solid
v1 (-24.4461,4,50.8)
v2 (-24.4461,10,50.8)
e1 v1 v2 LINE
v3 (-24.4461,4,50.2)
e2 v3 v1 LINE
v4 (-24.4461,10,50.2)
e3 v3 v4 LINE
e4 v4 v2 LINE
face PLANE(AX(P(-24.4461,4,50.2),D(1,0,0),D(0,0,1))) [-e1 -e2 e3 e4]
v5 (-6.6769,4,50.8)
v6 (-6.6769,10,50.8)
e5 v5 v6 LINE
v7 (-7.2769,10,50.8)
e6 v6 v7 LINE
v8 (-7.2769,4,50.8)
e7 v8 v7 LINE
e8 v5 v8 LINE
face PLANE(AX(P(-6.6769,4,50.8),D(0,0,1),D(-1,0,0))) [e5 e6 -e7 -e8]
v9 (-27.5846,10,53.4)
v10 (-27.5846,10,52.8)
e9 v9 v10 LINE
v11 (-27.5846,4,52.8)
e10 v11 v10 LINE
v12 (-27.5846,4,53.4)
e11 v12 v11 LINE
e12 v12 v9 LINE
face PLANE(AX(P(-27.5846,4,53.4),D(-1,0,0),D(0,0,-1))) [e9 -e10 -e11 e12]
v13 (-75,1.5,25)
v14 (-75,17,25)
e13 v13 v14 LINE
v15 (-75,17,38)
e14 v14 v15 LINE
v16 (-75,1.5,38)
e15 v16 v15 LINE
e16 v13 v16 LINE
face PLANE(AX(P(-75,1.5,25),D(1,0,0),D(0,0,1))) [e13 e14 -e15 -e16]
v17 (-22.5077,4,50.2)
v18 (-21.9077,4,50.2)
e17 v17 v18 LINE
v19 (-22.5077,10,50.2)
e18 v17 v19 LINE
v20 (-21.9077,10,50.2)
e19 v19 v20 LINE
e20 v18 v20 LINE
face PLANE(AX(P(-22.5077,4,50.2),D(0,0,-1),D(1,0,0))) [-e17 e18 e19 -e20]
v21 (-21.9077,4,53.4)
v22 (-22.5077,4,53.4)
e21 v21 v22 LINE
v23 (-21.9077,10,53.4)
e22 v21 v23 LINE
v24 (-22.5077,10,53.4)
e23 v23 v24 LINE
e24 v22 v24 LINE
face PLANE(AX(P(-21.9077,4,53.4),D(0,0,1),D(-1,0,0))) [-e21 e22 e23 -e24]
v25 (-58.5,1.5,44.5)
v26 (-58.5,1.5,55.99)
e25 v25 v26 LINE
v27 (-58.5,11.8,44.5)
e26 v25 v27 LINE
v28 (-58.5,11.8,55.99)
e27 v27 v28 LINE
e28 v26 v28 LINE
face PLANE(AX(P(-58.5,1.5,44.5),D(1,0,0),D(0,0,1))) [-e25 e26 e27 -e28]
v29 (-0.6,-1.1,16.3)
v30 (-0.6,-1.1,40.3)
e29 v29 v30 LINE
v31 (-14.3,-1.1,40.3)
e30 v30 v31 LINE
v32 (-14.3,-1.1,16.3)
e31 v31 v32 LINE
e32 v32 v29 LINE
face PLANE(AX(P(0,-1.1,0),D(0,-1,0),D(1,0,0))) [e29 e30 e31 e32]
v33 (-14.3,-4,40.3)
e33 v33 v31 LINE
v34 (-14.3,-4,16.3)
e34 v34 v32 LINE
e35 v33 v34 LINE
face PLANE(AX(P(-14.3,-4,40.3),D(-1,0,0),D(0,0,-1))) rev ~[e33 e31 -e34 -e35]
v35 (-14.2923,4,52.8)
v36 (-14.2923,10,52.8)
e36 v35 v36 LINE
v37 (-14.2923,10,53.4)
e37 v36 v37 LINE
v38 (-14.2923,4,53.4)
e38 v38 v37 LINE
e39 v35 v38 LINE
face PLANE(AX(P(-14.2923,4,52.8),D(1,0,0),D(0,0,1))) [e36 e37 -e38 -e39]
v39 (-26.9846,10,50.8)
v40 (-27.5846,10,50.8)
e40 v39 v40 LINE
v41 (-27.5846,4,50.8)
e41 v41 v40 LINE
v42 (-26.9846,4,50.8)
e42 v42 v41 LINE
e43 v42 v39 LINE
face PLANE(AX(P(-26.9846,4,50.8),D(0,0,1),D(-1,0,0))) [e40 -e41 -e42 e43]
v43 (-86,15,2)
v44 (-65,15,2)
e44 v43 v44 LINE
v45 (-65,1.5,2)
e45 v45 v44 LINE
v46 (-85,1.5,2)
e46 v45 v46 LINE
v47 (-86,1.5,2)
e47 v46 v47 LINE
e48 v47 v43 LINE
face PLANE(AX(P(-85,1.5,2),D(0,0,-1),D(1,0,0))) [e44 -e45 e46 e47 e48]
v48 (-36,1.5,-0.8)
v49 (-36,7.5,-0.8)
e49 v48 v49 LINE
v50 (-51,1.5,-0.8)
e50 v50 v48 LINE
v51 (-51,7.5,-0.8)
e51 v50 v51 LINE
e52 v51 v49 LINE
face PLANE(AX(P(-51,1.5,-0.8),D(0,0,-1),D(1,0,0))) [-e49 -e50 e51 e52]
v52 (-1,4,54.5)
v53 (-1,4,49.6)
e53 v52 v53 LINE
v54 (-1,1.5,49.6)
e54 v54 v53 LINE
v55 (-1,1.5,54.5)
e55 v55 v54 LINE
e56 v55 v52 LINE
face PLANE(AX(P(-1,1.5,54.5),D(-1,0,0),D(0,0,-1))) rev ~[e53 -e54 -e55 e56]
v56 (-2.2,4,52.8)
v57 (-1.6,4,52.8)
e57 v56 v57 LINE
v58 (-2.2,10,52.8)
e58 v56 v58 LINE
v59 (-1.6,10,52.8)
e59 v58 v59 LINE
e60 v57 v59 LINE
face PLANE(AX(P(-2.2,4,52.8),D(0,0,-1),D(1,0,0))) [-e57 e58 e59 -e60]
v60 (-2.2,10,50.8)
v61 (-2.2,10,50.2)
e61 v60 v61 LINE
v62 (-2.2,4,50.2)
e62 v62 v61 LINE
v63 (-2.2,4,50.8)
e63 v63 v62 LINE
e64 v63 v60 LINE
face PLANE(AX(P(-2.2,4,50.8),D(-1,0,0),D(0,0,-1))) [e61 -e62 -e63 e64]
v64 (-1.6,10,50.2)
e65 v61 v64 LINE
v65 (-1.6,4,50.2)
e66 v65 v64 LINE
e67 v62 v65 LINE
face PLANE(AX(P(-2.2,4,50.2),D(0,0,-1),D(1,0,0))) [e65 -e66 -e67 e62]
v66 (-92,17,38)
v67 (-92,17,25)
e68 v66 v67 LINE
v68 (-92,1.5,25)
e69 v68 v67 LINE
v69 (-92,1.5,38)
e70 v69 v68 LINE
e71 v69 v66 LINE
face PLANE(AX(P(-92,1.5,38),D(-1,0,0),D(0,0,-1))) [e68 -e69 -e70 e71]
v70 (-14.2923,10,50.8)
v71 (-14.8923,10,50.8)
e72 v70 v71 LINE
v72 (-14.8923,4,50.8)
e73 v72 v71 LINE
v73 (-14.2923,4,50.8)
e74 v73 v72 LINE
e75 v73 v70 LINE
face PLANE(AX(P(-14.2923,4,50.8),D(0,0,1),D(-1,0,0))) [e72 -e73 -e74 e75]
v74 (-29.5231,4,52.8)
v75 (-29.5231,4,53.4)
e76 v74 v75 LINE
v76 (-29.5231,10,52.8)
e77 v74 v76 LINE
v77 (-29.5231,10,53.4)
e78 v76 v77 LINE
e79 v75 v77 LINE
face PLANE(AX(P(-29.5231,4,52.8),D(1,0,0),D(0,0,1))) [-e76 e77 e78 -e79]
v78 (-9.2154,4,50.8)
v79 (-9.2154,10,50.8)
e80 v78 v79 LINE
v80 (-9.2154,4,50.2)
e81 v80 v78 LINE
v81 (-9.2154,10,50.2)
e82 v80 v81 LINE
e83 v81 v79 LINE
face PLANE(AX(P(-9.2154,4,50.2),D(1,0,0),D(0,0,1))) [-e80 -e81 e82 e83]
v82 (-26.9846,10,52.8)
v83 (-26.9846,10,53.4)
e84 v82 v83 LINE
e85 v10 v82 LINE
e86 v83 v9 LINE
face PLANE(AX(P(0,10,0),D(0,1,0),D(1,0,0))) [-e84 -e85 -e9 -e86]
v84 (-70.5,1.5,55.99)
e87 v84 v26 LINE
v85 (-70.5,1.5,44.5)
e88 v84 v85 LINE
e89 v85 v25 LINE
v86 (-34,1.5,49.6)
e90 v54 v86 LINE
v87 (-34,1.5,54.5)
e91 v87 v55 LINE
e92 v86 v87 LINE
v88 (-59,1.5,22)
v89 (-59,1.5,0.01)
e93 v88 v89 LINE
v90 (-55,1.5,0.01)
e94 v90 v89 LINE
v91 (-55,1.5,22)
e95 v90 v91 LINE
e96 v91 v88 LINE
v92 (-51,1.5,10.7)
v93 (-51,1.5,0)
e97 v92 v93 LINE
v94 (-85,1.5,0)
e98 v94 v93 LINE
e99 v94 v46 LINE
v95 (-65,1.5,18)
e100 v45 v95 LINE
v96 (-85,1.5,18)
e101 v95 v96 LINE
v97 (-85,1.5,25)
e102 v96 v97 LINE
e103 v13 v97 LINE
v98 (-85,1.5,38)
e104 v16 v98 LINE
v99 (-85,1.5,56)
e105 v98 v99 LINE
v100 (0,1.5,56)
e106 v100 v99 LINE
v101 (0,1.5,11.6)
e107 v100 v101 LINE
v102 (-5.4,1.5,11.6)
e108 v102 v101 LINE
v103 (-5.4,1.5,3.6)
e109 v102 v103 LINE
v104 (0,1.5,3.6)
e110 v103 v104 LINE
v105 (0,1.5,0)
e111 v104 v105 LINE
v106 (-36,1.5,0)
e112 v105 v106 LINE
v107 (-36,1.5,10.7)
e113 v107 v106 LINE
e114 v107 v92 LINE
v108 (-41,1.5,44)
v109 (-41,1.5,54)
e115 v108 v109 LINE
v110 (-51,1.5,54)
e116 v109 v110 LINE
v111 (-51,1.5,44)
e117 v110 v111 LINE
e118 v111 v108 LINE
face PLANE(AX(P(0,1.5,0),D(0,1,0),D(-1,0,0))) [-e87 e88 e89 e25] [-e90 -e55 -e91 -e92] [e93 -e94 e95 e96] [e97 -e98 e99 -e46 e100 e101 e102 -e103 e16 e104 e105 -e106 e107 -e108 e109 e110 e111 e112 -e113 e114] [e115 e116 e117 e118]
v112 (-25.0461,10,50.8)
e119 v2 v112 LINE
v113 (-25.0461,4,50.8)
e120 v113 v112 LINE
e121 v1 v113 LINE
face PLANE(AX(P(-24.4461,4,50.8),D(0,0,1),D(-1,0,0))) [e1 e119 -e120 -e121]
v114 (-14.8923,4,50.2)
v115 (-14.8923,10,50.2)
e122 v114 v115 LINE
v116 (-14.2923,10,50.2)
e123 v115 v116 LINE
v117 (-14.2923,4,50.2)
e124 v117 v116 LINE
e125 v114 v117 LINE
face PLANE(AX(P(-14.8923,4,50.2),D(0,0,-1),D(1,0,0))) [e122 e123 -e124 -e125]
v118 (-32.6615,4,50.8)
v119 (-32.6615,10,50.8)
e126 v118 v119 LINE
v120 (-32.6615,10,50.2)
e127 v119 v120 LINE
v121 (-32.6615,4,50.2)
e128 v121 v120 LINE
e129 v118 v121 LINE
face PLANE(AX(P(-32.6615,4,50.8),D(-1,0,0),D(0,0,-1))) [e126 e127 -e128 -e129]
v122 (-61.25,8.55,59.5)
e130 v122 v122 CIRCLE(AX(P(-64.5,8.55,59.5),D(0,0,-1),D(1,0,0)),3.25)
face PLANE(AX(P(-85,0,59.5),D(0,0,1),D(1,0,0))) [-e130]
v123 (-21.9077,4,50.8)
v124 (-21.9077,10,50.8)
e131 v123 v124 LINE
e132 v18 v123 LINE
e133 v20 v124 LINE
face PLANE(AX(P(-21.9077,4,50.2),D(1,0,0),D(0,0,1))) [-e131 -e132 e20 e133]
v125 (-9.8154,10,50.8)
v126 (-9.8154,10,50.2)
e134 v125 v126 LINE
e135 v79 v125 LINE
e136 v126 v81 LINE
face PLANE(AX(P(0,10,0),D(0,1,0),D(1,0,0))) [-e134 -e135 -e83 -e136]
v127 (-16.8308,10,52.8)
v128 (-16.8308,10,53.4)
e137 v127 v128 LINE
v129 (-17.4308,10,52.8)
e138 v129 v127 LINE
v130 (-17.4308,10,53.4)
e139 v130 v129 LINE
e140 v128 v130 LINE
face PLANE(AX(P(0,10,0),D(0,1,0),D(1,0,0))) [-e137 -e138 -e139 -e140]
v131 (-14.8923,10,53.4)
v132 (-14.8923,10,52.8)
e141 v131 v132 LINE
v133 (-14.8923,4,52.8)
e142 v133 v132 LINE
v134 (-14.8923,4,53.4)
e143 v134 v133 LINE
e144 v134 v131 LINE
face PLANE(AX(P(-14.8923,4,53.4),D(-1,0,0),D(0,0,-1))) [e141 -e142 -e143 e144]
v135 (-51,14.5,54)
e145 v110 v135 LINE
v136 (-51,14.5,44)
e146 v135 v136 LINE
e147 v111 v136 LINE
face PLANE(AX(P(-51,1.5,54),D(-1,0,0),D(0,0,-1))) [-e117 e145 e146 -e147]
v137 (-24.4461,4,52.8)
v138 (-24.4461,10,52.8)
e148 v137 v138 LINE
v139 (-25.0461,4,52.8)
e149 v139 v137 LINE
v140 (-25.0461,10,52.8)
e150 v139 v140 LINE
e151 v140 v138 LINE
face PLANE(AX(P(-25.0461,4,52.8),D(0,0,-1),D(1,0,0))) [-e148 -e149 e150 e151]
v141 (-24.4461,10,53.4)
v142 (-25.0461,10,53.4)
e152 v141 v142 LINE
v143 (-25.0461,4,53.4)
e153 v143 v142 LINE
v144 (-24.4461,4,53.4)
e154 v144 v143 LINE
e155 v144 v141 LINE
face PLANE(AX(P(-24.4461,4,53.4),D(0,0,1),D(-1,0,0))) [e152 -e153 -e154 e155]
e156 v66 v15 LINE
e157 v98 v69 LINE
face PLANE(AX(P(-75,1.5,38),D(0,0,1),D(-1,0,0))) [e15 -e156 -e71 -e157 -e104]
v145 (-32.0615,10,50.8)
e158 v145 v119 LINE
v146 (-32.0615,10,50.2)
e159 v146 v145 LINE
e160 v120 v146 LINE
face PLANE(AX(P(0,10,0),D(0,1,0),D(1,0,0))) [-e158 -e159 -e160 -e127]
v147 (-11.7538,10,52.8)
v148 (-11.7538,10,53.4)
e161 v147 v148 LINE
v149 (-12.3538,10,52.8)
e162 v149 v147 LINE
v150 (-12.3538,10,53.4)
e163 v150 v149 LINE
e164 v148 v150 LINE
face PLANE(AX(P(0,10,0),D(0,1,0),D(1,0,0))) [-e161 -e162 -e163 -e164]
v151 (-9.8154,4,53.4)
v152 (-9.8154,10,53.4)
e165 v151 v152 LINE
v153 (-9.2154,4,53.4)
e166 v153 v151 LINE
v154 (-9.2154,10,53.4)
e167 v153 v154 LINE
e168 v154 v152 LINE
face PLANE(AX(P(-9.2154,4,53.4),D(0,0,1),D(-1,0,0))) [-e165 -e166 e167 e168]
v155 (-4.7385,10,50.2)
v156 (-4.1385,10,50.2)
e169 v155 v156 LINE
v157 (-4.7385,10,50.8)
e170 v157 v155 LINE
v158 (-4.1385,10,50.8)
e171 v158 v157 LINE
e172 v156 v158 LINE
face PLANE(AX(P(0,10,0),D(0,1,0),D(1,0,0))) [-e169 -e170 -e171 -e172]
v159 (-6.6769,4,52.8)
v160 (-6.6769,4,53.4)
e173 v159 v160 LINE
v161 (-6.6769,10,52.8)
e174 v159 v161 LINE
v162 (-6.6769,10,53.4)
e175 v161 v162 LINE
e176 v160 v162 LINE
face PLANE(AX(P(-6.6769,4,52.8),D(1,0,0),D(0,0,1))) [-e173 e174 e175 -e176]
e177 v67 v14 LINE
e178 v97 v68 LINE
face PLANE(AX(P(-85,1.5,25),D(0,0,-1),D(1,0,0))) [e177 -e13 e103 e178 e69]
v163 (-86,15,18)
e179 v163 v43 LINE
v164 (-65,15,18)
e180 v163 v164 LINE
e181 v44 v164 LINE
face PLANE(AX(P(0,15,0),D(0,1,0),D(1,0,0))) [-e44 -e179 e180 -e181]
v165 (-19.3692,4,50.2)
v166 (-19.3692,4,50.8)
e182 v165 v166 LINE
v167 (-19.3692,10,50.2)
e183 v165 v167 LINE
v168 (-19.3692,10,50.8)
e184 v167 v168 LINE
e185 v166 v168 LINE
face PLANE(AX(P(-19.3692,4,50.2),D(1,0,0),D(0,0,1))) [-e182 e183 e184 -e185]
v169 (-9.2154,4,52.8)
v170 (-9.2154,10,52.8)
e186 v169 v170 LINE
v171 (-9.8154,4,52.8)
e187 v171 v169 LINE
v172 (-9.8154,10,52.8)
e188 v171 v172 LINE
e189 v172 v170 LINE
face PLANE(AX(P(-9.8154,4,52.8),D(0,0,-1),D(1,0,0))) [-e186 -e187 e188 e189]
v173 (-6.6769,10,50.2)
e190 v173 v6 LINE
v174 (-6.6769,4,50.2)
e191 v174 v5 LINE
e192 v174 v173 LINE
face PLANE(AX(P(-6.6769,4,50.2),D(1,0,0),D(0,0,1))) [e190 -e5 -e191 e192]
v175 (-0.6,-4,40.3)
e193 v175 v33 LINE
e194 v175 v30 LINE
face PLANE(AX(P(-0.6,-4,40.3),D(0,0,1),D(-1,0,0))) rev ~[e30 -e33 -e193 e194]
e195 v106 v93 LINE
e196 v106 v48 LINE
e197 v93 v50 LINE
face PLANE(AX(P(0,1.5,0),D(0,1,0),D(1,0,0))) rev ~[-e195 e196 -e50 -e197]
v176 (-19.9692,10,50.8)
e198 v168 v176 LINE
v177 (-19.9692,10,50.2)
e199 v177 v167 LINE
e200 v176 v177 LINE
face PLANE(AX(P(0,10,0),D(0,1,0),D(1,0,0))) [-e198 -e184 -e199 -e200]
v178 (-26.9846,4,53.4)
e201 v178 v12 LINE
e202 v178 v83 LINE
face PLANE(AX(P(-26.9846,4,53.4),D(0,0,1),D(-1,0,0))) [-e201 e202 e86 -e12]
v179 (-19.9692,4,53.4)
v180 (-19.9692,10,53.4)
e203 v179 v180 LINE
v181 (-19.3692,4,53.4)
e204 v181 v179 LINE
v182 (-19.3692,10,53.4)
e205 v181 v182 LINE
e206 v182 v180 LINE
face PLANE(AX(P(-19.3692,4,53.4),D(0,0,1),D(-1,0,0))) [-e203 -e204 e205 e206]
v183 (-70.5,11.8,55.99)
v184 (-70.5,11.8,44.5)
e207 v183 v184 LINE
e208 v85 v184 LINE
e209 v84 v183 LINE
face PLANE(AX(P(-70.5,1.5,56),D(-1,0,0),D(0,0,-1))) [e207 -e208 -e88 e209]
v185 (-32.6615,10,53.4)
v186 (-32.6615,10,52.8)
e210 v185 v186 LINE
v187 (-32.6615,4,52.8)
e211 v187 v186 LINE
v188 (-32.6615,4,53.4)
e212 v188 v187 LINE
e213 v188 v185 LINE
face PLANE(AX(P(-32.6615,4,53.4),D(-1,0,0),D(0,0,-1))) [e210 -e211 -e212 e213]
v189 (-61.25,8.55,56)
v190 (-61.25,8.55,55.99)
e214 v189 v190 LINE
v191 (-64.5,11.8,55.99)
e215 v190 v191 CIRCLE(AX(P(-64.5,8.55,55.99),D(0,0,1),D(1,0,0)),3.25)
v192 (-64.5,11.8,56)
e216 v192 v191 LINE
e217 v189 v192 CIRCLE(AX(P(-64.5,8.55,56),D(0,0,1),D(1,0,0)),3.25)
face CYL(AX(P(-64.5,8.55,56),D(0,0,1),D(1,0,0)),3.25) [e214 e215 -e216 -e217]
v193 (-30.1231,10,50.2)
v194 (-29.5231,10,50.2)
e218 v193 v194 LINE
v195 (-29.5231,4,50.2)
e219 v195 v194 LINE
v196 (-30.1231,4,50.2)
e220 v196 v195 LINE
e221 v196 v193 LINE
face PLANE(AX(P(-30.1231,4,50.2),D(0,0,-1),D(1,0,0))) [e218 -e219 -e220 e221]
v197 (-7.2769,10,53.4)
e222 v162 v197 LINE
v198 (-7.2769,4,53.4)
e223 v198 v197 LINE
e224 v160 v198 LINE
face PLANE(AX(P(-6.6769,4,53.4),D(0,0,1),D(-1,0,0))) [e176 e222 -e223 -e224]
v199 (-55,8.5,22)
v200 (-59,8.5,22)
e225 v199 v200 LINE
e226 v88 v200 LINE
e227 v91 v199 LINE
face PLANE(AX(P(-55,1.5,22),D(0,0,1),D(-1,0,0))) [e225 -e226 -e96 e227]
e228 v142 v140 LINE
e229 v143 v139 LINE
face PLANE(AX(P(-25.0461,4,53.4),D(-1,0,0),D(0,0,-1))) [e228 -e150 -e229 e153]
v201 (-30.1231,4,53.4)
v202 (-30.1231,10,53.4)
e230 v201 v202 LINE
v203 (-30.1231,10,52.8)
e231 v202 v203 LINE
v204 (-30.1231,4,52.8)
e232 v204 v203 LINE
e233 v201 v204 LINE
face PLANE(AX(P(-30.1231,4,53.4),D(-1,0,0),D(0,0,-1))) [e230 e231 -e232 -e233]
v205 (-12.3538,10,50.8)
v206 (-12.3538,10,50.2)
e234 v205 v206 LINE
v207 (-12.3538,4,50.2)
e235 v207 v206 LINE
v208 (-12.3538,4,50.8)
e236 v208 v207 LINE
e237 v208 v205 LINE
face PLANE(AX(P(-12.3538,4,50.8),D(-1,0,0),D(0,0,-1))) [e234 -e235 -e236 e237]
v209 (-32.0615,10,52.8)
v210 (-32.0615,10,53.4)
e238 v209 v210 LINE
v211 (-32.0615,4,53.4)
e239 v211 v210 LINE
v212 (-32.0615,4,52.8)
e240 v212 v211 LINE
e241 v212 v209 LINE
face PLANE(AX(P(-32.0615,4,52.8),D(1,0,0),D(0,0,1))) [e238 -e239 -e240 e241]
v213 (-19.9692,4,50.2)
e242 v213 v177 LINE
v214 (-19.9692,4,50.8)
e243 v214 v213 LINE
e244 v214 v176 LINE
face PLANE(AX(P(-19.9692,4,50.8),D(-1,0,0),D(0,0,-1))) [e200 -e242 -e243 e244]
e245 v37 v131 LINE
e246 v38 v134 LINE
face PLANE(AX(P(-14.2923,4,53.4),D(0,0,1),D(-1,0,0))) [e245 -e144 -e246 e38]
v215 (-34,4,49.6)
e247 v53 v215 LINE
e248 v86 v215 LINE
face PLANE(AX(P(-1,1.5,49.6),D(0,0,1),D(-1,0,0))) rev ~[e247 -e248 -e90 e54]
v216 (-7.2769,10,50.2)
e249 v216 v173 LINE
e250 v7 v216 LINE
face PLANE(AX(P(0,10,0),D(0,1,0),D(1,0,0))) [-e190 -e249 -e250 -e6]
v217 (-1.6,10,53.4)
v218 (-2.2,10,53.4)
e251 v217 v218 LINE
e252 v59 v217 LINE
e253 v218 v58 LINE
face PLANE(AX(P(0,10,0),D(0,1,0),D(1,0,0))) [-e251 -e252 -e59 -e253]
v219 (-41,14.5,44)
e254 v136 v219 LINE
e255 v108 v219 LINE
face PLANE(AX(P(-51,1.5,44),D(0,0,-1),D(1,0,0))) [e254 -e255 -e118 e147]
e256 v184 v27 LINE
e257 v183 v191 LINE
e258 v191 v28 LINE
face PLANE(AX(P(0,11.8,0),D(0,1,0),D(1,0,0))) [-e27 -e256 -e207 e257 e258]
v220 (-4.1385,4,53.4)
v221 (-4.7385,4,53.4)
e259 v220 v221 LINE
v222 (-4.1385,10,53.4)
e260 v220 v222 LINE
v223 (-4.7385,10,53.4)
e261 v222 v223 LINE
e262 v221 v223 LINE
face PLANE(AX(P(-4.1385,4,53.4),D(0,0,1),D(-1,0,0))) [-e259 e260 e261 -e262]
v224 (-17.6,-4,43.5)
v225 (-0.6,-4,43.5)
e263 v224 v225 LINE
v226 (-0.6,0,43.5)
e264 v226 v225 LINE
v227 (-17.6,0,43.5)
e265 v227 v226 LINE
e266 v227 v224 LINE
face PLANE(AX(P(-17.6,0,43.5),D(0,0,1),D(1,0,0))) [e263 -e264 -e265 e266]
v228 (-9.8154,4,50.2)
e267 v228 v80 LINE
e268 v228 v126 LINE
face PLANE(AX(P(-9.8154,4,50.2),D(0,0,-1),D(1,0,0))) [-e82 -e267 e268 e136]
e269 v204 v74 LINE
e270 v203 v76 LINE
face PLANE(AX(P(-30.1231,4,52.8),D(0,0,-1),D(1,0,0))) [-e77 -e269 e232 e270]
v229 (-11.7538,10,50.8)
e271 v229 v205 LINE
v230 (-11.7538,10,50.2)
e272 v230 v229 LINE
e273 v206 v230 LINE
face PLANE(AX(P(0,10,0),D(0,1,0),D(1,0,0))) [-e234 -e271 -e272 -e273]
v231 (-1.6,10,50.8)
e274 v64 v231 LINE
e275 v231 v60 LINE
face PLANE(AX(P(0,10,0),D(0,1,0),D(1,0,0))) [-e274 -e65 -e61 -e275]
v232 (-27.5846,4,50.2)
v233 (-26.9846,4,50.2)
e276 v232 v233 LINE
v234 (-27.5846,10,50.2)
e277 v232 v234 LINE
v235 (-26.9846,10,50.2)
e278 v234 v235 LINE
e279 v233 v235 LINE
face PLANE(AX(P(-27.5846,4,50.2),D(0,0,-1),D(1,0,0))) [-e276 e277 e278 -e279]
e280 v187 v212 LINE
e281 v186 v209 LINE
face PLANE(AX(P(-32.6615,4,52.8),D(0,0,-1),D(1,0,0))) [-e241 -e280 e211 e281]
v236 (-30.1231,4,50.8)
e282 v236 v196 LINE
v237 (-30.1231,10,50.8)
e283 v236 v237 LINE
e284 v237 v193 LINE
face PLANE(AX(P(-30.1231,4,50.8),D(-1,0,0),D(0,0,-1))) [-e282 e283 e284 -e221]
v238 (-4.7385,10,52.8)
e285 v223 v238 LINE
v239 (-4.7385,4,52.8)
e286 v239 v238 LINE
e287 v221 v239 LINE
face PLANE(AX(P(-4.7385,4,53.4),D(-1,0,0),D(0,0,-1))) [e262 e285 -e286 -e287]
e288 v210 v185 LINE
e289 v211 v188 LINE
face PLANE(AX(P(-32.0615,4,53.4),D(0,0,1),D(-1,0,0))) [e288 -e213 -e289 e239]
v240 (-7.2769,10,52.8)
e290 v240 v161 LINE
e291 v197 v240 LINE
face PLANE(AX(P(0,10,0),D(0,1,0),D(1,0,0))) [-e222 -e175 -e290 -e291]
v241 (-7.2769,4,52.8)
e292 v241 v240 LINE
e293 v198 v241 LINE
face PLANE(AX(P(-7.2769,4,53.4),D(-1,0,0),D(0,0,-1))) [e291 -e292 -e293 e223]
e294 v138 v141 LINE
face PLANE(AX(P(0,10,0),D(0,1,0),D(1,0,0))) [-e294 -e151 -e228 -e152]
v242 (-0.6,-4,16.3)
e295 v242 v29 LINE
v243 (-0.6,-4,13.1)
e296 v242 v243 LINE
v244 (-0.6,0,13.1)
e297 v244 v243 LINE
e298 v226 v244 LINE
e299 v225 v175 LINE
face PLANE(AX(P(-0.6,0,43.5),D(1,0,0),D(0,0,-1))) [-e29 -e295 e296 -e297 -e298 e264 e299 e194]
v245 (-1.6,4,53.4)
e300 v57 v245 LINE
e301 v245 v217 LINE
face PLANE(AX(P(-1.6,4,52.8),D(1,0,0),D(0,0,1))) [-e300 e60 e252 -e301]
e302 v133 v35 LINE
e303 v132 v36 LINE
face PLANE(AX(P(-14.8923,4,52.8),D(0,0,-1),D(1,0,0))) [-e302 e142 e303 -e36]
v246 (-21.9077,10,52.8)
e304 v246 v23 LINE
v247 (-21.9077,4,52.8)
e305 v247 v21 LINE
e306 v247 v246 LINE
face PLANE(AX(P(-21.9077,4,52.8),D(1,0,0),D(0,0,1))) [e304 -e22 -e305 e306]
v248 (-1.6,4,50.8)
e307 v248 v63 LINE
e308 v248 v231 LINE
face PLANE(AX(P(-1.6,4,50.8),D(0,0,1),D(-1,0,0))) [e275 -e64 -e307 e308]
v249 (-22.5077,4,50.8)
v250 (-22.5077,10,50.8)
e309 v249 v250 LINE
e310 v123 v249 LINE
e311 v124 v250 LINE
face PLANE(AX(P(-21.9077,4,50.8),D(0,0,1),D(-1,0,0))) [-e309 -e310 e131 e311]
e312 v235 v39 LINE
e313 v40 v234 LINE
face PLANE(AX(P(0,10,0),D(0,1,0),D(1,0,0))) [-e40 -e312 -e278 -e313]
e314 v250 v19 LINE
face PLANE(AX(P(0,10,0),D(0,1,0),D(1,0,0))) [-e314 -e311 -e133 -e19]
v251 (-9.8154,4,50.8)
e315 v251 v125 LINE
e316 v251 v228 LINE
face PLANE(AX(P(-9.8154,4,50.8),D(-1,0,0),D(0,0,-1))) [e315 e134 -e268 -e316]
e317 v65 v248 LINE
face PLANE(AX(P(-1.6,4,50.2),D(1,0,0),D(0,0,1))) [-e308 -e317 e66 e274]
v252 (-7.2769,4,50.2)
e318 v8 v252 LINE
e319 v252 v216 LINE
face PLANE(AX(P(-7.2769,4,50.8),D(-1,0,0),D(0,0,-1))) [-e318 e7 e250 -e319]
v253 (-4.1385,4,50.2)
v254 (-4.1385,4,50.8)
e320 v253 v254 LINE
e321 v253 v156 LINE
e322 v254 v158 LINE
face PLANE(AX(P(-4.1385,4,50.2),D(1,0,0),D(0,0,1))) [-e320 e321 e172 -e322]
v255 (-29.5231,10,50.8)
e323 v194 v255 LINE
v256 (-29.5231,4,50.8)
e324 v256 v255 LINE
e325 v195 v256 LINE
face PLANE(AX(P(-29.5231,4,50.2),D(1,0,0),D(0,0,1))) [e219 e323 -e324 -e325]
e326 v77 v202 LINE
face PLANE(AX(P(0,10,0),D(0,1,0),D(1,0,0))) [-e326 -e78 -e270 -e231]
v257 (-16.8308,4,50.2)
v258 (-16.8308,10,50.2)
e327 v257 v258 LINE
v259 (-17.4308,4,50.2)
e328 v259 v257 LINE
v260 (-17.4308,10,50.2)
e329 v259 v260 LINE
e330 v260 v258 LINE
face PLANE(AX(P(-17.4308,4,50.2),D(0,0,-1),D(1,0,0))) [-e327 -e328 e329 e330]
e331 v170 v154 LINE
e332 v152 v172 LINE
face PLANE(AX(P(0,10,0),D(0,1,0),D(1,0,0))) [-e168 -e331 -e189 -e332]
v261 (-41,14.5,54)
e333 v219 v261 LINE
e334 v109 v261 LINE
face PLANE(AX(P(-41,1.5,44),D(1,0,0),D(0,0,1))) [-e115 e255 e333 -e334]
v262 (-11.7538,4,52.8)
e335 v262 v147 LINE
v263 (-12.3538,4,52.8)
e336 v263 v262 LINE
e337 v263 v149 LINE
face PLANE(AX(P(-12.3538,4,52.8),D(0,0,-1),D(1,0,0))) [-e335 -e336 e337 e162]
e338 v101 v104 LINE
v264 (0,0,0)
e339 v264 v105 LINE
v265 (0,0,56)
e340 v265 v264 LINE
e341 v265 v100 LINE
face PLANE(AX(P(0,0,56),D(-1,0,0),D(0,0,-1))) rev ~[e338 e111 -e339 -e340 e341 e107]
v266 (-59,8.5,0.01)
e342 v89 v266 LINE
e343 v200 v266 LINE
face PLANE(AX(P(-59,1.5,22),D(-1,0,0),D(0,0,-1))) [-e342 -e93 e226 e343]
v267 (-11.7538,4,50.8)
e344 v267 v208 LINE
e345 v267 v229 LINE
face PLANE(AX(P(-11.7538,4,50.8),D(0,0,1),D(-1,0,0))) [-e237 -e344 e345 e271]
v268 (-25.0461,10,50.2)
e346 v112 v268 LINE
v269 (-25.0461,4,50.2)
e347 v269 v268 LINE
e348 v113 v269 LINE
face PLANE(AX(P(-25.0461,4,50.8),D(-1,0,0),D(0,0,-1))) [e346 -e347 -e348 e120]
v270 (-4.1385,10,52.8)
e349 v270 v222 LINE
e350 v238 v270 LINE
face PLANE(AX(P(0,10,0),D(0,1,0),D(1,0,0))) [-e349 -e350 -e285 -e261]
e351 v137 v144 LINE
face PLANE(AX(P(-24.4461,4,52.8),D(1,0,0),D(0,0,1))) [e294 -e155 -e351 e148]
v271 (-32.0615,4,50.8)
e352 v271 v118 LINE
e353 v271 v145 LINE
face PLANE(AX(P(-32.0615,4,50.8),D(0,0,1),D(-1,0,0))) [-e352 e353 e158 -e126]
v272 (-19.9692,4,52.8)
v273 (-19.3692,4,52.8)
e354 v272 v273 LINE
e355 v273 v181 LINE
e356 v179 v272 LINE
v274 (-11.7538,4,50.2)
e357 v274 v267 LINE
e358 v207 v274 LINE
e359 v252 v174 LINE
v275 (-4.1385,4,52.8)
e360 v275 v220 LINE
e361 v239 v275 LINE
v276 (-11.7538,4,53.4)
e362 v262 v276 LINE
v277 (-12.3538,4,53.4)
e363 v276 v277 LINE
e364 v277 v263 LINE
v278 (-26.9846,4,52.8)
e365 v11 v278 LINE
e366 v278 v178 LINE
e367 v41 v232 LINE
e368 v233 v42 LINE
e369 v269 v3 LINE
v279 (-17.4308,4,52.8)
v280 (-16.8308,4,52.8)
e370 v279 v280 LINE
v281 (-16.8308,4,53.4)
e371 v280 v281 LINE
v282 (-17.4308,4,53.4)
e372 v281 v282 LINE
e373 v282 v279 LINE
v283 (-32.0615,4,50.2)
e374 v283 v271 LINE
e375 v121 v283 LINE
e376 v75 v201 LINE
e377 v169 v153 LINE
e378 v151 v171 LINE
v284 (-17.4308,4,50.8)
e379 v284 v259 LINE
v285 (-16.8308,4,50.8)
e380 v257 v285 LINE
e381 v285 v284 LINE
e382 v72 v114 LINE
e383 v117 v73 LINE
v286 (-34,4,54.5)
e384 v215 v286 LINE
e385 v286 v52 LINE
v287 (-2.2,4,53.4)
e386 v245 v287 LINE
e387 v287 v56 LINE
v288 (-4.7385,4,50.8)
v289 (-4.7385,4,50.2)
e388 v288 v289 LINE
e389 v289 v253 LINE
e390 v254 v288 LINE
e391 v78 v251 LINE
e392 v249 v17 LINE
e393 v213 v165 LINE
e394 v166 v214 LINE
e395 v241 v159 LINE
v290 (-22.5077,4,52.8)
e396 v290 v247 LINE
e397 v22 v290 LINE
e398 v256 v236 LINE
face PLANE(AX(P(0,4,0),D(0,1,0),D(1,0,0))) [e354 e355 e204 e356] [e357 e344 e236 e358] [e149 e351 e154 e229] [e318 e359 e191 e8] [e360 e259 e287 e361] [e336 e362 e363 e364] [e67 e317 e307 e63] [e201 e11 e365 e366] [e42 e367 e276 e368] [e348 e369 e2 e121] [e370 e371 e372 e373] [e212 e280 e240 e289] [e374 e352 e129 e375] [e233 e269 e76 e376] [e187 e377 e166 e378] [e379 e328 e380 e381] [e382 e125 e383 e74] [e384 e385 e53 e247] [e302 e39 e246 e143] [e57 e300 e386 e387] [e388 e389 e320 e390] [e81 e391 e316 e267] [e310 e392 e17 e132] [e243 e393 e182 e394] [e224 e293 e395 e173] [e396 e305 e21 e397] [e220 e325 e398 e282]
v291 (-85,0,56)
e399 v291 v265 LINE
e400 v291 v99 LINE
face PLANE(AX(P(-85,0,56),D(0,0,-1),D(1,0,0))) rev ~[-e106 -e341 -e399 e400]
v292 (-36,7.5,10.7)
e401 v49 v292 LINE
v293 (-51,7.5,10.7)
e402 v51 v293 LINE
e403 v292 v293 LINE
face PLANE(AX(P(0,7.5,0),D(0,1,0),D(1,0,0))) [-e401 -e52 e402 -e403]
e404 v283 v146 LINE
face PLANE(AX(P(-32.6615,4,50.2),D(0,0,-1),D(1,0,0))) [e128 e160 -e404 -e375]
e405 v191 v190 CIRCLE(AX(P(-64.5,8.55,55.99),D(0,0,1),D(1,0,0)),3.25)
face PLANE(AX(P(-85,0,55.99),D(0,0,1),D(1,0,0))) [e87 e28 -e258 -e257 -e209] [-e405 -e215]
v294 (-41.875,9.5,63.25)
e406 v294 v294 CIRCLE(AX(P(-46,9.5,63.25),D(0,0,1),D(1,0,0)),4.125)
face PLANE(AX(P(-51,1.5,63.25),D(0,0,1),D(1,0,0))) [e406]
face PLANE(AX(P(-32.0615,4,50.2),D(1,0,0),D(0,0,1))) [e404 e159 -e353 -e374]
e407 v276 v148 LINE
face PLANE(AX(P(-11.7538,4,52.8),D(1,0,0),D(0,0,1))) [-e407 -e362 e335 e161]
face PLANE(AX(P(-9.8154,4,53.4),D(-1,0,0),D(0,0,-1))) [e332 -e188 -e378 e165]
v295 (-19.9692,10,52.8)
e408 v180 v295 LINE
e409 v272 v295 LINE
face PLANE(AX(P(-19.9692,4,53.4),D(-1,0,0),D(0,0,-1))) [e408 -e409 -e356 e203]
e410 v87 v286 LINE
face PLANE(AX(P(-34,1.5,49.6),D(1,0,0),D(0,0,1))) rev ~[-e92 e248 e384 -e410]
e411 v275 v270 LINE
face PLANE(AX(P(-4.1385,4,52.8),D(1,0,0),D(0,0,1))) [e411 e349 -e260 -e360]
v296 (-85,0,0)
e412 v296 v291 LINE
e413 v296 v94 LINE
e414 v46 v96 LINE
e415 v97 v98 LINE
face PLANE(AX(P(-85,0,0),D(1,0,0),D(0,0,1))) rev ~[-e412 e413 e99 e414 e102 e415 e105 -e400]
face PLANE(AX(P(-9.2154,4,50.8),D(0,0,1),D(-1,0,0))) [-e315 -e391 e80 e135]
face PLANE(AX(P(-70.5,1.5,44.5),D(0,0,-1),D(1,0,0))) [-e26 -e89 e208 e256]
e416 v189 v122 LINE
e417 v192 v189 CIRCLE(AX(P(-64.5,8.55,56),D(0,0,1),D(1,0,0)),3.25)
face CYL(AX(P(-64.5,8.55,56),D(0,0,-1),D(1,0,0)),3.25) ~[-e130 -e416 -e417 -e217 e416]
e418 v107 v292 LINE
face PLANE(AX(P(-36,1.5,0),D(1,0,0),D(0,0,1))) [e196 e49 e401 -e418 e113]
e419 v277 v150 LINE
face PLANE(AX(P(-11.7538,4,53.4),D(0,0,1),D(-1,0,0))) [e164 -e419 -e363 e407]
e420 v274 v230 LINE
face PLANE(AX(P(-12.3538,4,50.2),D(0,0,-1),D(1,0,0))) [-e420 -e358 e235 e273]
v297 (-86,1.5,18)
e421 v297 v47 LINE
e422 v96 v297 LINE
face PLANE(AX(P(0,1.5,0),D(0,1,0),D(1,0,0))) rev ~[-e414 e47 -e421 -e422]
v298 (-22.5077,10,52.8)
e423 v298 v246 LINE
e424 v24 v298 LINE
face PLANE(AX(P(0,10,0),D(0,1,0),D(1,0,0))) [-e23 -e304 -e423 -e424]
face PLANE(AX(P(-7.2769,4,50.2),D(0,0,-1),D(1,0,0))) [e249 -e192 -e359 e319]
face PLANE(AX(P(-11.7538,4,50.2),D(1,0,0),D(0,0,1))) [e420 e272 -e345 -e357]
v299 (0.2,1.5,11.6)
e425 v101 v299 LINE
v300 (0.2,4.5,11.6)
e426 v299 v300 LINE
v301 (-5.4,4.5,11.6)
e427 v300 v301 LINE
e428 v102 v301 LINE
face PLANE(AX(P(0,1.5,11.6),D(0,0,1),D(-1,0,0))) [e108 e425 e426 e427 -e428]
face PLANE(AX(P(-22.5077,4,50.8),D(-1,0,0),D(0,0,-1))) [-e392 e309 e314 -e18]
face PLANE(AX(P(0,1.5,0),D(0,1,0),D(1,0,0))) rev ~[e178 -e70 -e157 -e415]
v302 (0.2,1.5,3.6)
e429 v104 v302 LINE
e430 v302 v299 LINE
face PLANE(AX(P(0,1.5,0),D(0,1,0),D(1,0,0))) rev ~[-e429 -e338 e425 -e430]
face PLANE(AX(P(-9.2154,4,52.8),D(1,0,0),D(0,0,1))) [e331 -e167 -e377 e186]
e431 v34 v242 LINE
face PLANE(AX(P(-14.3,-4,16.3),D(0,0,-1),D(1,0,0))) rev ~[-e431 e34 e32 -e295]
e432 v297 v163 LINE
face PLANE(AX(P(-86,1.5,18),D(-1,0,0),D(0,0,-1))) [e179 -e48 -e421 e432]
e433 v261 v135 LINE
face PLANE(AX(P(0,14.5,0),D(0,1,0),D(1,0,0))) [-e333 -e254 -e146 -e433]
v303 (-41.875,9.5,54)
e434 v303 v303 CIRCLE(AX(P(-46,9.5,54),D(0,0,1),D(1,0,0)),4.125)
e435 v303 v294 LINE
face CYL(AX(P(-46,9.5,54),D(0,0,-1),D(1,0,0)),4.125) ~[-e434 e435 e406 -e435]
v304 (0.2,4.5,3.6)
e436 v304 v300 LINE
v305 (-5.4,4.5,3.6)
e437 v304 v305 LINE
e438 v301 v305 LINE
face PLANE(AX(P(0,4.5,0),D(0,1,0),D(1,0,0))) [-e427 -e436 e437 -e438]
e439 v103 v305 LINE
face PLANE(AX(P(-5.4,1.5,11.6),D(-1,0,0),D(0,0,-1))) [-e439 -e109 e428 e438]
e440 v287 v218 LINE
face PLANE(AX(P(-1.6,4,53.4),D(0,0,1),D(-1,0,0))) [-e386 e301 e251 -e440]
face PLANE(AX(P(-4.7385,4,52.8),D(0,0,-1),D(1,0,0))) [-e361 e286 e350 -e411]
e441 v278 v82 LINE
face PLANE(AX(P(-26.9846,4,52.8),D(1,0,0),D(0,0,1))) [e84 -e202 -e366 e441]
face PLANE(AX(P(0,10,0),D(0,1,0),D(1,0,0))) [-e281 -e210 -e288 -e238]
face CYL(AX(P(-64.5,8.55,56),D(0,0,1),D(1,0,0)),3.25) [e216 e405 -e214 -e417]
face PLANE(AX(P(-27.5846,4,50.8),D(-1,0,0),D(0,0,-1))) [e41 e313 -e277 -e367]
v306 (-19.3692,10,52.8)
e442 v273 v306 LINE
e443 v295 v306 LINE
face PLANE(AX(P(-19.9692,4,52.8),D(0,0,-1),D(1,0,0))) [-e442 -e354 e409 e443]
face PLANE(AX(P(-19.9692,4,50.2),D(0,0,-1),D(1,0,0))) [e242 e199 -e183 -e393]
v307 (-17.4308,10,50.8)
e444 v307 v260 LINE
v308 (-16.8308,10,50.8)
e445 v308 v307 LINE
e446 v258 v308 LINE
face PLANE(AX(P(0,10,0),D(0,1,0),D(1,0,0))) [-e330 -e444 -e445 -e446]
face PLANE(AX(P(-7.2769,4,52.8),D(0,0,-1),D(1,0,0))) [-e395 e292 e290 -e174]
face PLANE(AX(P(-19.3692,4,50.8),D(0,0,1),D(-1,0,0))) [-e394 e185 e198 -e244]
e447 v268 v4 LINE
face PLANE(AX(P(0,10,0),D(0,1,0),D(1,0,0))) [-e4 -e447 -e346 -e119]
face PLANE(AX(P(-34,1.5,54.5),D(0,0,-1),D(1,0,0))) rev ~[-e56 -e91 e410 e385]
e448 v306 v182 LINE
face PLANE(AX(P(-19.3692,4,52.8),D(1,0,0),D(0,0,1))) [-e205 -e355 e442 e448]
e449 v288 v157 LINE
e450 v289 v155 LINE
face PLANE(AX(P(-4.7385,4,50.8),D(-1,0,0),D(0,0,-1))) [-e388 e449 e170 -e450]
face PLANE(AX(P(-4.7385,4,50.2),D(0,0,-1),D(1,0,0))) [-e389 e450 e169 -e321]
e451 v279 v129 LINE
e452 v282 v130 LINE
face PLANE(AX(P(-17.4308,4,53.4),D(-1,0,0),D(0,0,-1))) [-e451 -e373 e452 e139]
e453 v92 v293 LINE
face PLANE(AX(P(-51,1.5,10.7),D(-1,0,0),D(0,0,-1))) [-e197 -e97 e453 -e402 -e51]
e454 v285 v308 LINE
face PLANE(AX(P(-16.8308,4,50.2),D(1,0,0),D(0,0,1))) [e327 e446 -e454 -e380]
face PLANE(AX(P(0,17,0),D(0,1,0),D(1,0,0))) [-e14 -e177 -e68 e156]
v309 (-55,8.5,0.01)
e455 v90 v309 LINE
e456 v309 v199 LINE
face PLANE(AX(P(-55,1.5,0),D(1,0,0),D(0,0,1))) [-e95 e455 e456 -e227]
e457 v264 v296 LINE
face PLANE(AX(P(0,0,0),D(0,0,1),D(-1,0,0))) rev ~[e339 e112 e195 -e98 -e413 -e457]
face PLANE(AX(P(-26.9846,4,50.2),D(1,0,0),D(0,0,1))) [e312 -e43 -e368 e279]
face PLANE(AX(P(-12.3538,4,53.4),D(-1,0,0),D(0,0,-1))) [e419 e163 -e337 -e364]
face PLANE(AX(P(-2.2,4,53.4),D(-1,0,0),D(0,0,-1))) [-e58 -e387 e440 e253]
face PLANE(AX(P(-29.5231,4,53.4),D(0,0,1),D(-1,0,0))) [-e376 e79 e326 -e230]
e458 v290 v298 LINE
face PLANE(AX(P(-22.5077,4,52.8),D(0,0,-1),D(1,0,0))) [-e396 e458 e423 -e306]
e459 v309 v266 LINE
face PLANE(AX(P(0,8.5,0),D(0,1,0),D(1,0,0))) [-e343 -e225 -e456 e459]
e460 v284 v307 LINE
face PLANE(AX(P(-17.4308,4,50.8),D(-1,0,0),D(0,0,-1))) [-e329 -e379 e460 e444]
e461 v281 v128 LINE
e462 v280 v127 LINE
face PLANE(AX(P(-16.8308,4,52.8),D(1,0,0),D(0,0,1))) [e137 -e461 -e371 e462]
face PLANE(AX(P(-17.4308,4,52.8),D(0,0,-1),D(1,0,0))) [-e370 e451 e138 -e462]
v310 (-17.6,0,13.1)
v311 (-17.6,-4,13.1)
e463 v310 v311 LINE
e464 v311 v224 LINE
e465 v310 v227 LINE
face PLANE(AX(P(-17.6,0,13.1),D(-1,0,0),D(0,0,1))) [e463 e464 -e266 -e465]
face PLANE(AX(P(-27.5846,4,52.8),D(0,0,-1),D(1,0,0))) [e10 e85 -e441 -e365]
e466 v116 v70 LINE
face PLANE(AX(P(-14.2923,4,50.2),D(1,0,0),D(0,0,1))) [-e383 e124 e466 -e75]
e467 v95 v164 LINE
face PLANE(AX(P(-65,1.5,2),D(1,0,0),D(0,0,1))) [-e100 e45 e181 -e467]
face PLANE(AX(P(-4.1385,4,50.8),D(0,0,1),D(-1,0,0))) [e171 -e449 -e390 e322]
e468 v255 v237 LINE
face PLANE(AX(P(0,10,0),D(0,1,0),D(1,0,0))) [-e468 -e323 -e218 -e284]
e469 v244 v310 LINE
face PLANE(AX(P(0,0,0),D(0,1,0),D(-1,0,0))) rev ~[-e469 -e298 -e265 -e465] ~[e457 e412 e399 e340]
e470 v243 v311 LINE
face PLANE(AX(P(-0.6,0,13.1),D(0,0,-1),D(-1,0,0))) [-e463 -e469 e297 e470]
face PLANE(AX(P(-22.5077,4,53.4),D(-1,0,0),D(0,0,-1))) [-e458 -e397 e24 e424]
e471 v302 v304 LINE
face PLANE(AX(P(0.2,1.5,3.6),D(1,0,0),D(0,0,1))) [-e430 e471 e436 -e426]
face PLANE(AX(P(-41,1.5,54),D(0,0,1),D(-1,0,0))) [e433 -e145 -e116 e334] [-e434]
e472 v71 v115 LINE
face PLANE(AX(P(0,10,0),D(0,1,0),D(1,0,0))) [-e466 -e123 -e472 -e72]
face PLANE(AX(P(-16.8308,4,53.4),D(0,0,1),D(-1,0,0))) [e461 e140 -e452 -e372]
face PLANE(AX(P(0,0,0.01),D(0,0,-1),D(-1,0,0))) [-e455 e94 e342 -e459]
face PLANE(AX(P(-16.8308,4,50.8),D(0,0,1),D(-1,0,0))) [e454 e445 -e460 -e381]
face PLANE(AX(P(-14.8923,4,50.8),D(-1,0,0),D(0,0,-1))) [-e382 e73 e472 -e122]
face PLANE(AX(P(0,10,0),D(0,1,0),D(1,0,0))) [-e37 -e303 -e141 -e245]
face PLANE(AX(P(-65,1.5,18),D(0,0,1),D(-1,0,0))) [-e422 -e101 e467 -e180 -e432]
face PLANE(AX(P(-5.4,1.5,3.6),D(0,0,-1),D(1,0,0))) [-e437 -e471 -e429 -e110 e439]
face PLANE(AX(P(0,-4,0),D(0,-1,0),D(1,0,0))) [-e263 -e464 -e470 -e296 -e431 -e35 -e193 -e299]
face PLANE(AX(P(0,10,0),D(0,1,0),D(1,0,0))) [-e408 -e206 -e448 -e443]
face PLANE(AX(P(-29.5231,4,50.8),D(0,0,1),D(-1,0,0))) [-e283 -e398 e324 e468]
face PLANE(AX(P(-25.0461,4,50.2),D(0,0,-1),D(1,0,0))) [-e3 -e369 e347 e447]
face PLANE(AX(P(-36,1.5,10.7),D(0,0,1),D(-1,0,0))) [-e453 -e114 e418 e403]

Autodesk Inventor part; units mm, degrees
ref_plane "YZ Plane" through (0, 0, 0) normal (1, 0, 0) x (0, 1, 0)
ref_plane "XZ Plane" through (0, 0, 0) normal (0, 1, 0) x (-1, 0, 0)
ref_plane "XY Plane" through (0, 0, 0) normal (0, 0, 1) x (1, 0, 0)
sketch "Sketch1" plane through (0, 0, 0) normal (0, 1, 0) x (-1, 0, 0)
  line L0 (0, 0) -> (85, 0)
  line L1 (85, 0) -> (85, 56)
  line L2 (85, 56) -> (0, 56)
  line L3 (0, 56) -> (0, 0)
  dimension "d0" = 85
  dimension "d1" = 56
extrude "Extrusion1" add sketch "Sketch1" along normal blind 1.5
sketch "Sketch2" plane through (0, 1.5, 0) normal (0, 1, 0) x (1, 0, 0)
  line L0 (0, 0) -> (-85, 0) projected
  line L1 (-85, 0) -> (-85, -56) projected
  line L2 (-86, -2) -> (-65, -2)
  line L3 (-65, -2) -> (-65, -18)
  line L4 (-65, -18) -> (-86, -18)
  line L5 (-86, -18) -> (-86, -2)
  dimension "d4" = 21
  dimension "d5" = 16
  dimension "d6" = 1
  dimension "d7" = 2
extrude "Extrusion2" add sketch "Sketch2" along normal blind 13.5
sketch "Sketch3" plane through (0, 1.5, 0) normal (0, 1, 0) x (1, 0, 0)
  line L0 (-85, -18) -> (-85, -56) projected
  line L1 (-85, -56) -> (0, -56) projected
  line L2 (-92, -25) -> (-75, -25)
  line L3 (-75, -25) -> (-75, -38)
  line L4 (-75, -38) -> (-92, -38)
  line L5 (-92, -38) -> (-92, -25)
  dimension "d10" = 17
  dimension "d11" = 13
  dimension "d12" = 7
  dimension "d13" = 18
extrude "Extrusion3" add sketch "Sketch3" along normal blind 15.5
sketch "Sketch4" plane through (0, 1.5, 0) normal (0, 1, 0) x (1, 0, 0)
  line L0 (-85, -38) -> (-85, -56) projected
  line L1 (-85, -56) -> (0, -56) projected
  line L2 (-70.5, -44.5) -> (-58.5, -44.5)
  line L3 (-58.5, -44.5) -> (-58.5, -56)
  line L4 (-58.5, -56) -> (-70.5, -56)
  line L5 (-70.5, -56) -> (-70.5, -44.5)
  dimension "d16" = 11.5
  dimension "d17" = 12
  dimension "d18" = 14.5
extrude "Extrusion4" add sketch "Sketch4" along normal blind 10.3
sketch "Sketch5" plane through (-85, 0, 56) normal (0, 0, 1) x (1, 0, 0)
  line L0 (14.5, 11.8) -> (26.5, 11.8) projected
  line L1 (14.5, 1.5) -> (14.5, 11.8) projected
  line L2 (0, 0) -> (0, 1.5) projected
  line L3 (14.5, 1.5) -> (26.5, 1.5)
  circle A0 centre (20.5, 8.55) radius 3.25
  dimension "d21" = 6.5
  dimension "d23" = 6
extrude "Extrusion5" add sketch "Sketch5" along normal blind 3.5
sketch "Sketch6" plane through (0, 1.5, 0) normal (0, 1, 0) x (1, 0, 0)
  line L0 (-58.5, -56) -> (0, -56) projected
  line L1 (-85, -38) -> (-85, -56) projected
  line L2 (-51, -44) -> (-41, -44)
  line L3 (-41, -44) -> (-41, -54)
  line L4 (-41, -54) -> (-51, -54)
  line L5 (-51, -54) -> (-51, -44)
  dimension "d26" = 10
  dimension "d27" = 10
  dimension "d28" = 34
  dimension "d29" = 2
extrude "Extrusion6" add sketch "Sketch6" along normal blind 13
sketch "Sketch7" plane through (-85, 0, 56) normal (0, 0, 1) x (1, 0, 0)
  line L0 (26.5, 1.5) -> (26.5, 11.8) projected
  line L1 (20.5, 11.8) -> (26.5, 11.8) projected
  circle A0 centre (20.5, 8.55) radius 3.25 projected
  line L2 (14.5, 11.8) -> (20.5, 11.8) projected
  line L3 (14.5, 1.5) -> (14.5, 11.8) projected
  line L4 (0, 0) -> (0, 1.5) projected
  line L5 (14.5, 1.5) -> (26.5, 1.5)
extrude "Extrusion7" cut sketch "Sketch7" against normal blind 0.01
sketch "Sketch8" plane through (-51, 1.5, 54) normal (0, 0, 1) x (1, 0, 0)
  line L0 (0, 13) -> (10, 13) projected
  circle A0 centre (5, 8) radius 4.125
  point P0 (51, -1.5)
  dimension "d34" = 8.25
  dimension "d35" = 5
extrude "Extrusion8" add sketch "Sketch8" along normal blind 9.25
sketch "Sketch9" plane through (0, 1.5, 0) normal (0, 1, 0) x (1, 0, 0)
  line L0 (-85, -56) -> (0, -56) projected
  line L1 (0, -56) -> (0, 0) projected
  line L2 (-34, -54.5) -> (-1, -54.5)
  line L3 (-1, -54.5) -> (-1, -49.6)
  line L4 (-1, -49.6) -> (-34, -49.6)
  line L5 (-34, -49.6) -> (-34, -54.5)
  dimension "d38" = 4.9
  dimension "d39" = 33
  dimension "d40" = 1.5
  dimension "d41" = 1
extrude "Extrusion9" add sketch "Sketch9" along normal blind 2.5
sketch "Sketch10" plane through (0, 4, 0) normal (0, 1, 0) x (1, 0, 0)
  line L0 (-1, -54.5) -> (-1, -49.6) projected
  line L1 (-1, -49.6) -> (-34, -49.6) projected
  line L2 (-34, -49.6) -> (-34, -54.5) projected
  line L3 (-2.2, -50.2) -> (-1.6, -50.2)
  line L4 (-1.6, -50.2) -> (-1.6, -50.8)
  line L5 (-1.6, -50.8) -> (-2.2, -50.8)
  line L6 (-2.2, -50.8) -> (-2.2, -50.2)
  line L7 (-4.7385, -50.2) -> (-4.1385, -50.2)
  line L8 (-4.1385, -50.2) -> (-4.1385, -50.8)
  line L9 (-4.1385, -50.8) -> (-4.7385, -50.8)
  line L10 (-4.7385, -50.8) -> (-4.7385, -50.2)
  line L11 (-7.2769, -50.2) -> (-6.6769, -50.2)
  line L12 (-6.6769, -50.2) -> (-6.6769, -50.8)
  line L13 (-6.6769, -50.8) -> (-7.2769, -50.8)
  line L14 (-7.2769, -50.8) -> (-7.2769, -50.2)
  line L15 (-9.8154, -50.2) -> (-9.2154, -50.2)
  line L16 (-9.2154, -50.2) -> (-9.2154, -50.8)
  line L17 (-9.2154, -50.8) -> (-9.8154, -50.8)
  line L18 (-9.8154, -50.8) -> (-9.8154, -50.2)
  line L19 (-12.3538, -50.2) -> (-11.7538, -50.2)
  line L20 (-11.7538, -50.2) -> (-11.7538, -50.8)
  line L21 (-11.7538, -50.8) -> (-12.3538, -50.8)
  line L22 (-12.3538, -50.8) -> (-12.3538, -50.2)
  line L23 (-14.8923, -50.2) -> (-14.2923, -50.2)
  line L24 (-14.2923, -50.2) -> (-14.2923, -50.8)
  line L25 (-14.2923, -50.8) -> (-14.8923, -50.8)
  line L26 (-14.8923, -50.8) -> (-14.8923, -50.2)
  line L27 (-17.4308, -50.2) -> (-16.8308, -50.2)
  line L28 (-16.8308, -50.2) -> (-16.8308, -50.8)
  line L29 (-16.8308, -50.8) -> (-17.4308, -50.8)
  line L30 (-17.4308, -50.8) -> (-17.4308, -50.2)
  line L31 (-19.9692, -50.2) -> (-19.3692, -50.2)
  line L32 (-19.3692, -50.2) -> (-19.3692, -50.8)
  line L33 (-19.3692, -50.8) -> (-19.9692, -50.8)
  line L34 (-19.9692, -50.8) -> (-19.9692, -50.2)
  line L35 (-22.5077, -50.2) -> (-21.9077, -50.2)
  line L36 (-21.9077, -50.2) -> (-21.9077, -50.8)
  line L37 (-21.9077, -50.8) -> (-22.5077, -50.8)
  line L38 (-22.5077, -50.8) -> (-22.5077, -50.2)
  line L39 (-25.0461, -50.2) -> (-24.4461, -50.2)
  line L40 (-24.4461, -50.2) -> (-24.4461, -50.8)
  line L41 (-24.4461, -50.8) -> (-25.0461, -50.8)
  line L42 (-25.0461, -50.8) -> (-25.0461, -50.2)
  line L43 (-27.5846, -50.2) -> (-26.9846, -50.2)
  line L44 (-26.9846, -50.2) -> (-26.9846, -50.8)
  line L45 (-26.9846, -50.8) -> (-27.5846, -50.8)
  line L46 (-27.5846, -50.8) -> (-27.5846, -50.2)
  line L47 (-30.1231, -50.2) -> (-29.5231, -50.2)
  line L48 (-29.5231, -50.2) -> (-29.5231, -50.8)
  line L49 (-29.5231, -50.8) -> (-30.1231, -50.8)
  line L50 (-30.1231, -50.8) -> (-30.1231, -50.2)
  line L51 (-32.6615, -50.2) -> (-32.0615, -50.2)
  line L52 (-32.0615, -50.2) -> (-32.0615, -50.8)
  line L53 (-32.0615, -50.8) -> (-32.6615, -50.8)
  line L54 (-32.6615, -50.8) -> (-32.6615, -50.2)
  line L55 (-2.2, -52.8) -> (-1.6, -52.8)
  line L56 (-1.6, -52.8) -> (-1.6, -53.4)
  line L57 (-1.6, -53.4) -> (-2.2, -53.4)
  line L58 (-2.2, -53.4) -> (-2.2, -52.8)
  line L59 (-4.7385, -52.8) -> (-4.1385, -52.8)
  line L60 (-4.1385, -52.8) -> (-4.1385, -53.4)
  line L61 (-4.1385, -53.4) -> (-4.7385, -53.4)
  line L62 (-4.7385, -53.4) -> (-4.7385, -52.8)
  line L63 (-7.2769, -52.8) -> (-6.6769, -52.8)
  line L64 (-6.6769, -52.8) -> (-6.6769, -53.4)
  line L65 (-6.6769, -53.4) -> (-7.2769, -53.4)
  line L66 (-7.2769, -53.4) -> (-7.2769, -52.8)
  line L67 (-9.8154, -52.8) -> (-9.2154, -52.8)
  line L68 (-9.2154, -52.8) -> (-9.2154, -53.4)
  line L69 (-9.2154, -53.4) -> (-9.8154, -53.4)
  line L70 (-9.8154, -53.4) -> (-9.8154, -52.8)
  line L71 (-12.3538, -52.8) -> (-11.7538, -52.8)
  line L72 (-11.7538, -52.8) -> (-11.7538, -53.4)
  line L73 (-11.7538, -53.4) -> (-12.3538, -53.4)
  line L74 (-12.3538, -53.4) -> (-12.3538, -52.8)
  line L75 (-14.8923, -52.8) -> (-14.2923, -52.8)
  line L76 (-14.2923, -52.8) -> (-14.2923, -53.4)
  line L77 (-14.2923, -53.4) -> (-14.8923, -53.4)
  line L78 (-14.8923, -53.4) -> (-14.8923, -52.8)
  line L79 (-17.4308, -52.8) -> (-16.8308, -52.8)
  line L80 (-16.8308, -52.8) -> (-16.8308, -53.4)
  line L81 (-16.8308, -53.4) -> (-17.4308, -53.4)
  line L82 (-17.4308, -53.4) -> (-17.4308, -52.8)
  line L83 (-19.9692, -52.8) -> (-19.3692, -52.8)
  line L84 (-19.3692, -52.8) -> (-19.3692, -53.4)
  line L85 (-19.3692, -53.4) -> (-19.9692, -53.4)
  line L86 (-19.9692, -53.4) -> (-19.9692, -52.8)
  line L87 (-22.5077, -52.8) -> (-21.9077, -52.8)
  line L88 (-21.9077, -52.8) -> (-21.9077, -53.4)
  line L89 (-21.9077, -53.4) -> (-22.5077, -53.4)
  line L90 (-22.5077, -53.4) -> (-22.5077, -52.8)
  line L91 (-25.0461, -52.8) -> (-24.4461, -52.8)
  line L92 (-24.4461, -52.8) -> (-24.4461, -53.4)
  line L93 (-24.4461, -53.4) -> (-25.0461, -53.4)
  line L94 (-25.0461, -53.4) -> (-25.0461, -52.8)
  line L95 (-27.5846, -52.8) -> (-26.9846, -52.8)
  line L96 (-26.9846, -52.8) -> (-26.9846, -53.4)
  line L97 (-26.9846, -53.4) -> (-27.5846, -53.4)
  line L98 (-27.5846, -53.4) -> (-27.5846, -52.8)
  line L99 (-30.1231, -52.8) -> (-29.5231, -52.8)
  line L100 (-29.5231, -52.8) -> (-29.5231, -53.4)
  line L101 (-29.5231, -53.4) -> (-30.1231, -53.4)
  line L102 (-30.1231, -53.4) -> (-30.1231, -52.8)
  line L103 (-32.6615, -52.8) -> (-32.0615, -52.8)
  line L104 (-32.0615, -52.8) -> (-32.0615, -53.4)
  line L105 (-32.0615, -53.4) -> (-32.6615, -53.4)
  line L106 (-32.6615, -53.4) -> (-32.6615, -52.8)
  point P0 (0, 0)
  dimension "d44" = 0.6
  dimension "d45" = 0.6
  dimension "d46" = 0.6
  dimension "d47" = 0.6
  dimension "d50" = 2.5385
  dimension "d53" = 2.6
extrude "Extrusion10" add sketch "Sketch10" along normal blind 6
sketch "Sketch11" plane through (0, 0, 0) normal (0, -1, 0) x (1, 0, 0)
  line L0 (0, 56) -> (0, 0) projected
  line L1 (-85, 56) -> (0, 56) projected
  line L2 (-0.6, 13.1) -> (-17.6, 13.1)
  line L3 (-17.6, 13.1) -> (-17.6, 43.5)
  line L4 (-17.6, 43.5) -> (-0.6, 43.5)
  line L5 (-0.6, 43.5) -> (-0.6, 13.1)
  dimension "d58" = 30.4
  dimension "d59" = 17
  dimension "d60" = 0.6
  dimension "d61" = 12.5
extrude "Extrusion11" add sketch "Sketch11" along normal blind 4
sketch "Sketch12" plane through (0, -4, 0) normal (0, -1, 0) x (1, 0, 0)
  line L0 (-0.6, 13.1) -> (-0.6, 43.5) projected
  line L1 (-0.6, 43.5) -> (-17.6, 43.5) projected
  line L2 (-17.6, 43.5) -> (-17.6, 13.1) projected
  line L3 (-0.6, 40.3) -> (-14.3, 40.3)
  line L4 (-14.3, 40.3) -> (-14.3, 16.3)
  line L5 (-14.3, 16.3) -> (-0.6, 16.3)
  point P0 (0, 0)
  dimension "d64" = 13.7
  dimension "d65" = 24
  dimension "d66" = 3.2
extrude "Extrusion12" cut sketch "Sketch12" against normal blind 2.9
sketch "Sketch13" plane through (0, 1.5, 0) normal (0, 1, 0) x (1, 0, 0)
  line L0 (0, -56) -> (0, 0) projected
  line L1 (0, 0) -> (-85, 0) projected
  line L2 (-5.4, -3.6) -> (0.2, -3.6)
  line L3 (0.2, -3.6) -> (0.2, -11.6)
  line L4 (0.2, -11.6) -> (-5.4, -11.6)
  line L5 (-5.4, -11.6) -> (-5.4, -3.6)
  dimension "d69" = 5.6
  dimension "d70" = 8
  dimension "d71" = 3.6
  dimension "d72" = 0.2
extrude "Extrusion13" add sketch "Sketch13" along normal blind 3
sketch "Sketch14" plane through (0, 1.5, 0) normal (0, 1, 0) x (1, 0, 0)
  line L0 (0, 0) -> (-85, 0) projected
  line L1 (-85, 0) -> (-85, -2) projected
  line L2 (-51, 0.8) -> (-36, 0.8)
  line L3 (-36, 0.8) -> (-36, -10.7)
  line L4 (-36, -10.7) -> (-51, -10.7)
  line L5 (-51, -10.7) -> (-51, 0.8)
  dimension "d75" = 15
  dimension "d76" = 11.5
  dimension "d77" = 0.8
  dimension "d78" = 34
extrude "Extrusion14" add sketch "Sketch14" along normal blind 6
sketch "Sketch15" plane through (0, 1.5, 0) normal (0, 1, 0) x (1, 0, 0)
  line L0 (-51, 0) -> (-85, 0) projected
  line L1 (-85, 0) -> (-85, -2) projected
  line L2 (-59, 0) -> (-55, 0)
  line L3 (-55, 0) -> (-55, -22)
  line L4 (-55, -22) -> (-59, -22)
  line L5 (-59, -22) -> (-59, 0)
  dimension "d81" = 22
  dimension "d82" = 4
  dimension "d83" = 26
extrude "Extrusion15" add sketch "Sketch15" along normal blind 7
sketch "Sketch16" plane through (0, 0, 0) normal (0, 0, -1) x (-1, 0, 0)
  line L0 (59, 1.5) -> (59, 8.5) projected
  line L1 (55, 8.5) -> (59, 8.5) projected
  line L2 (55, 1.5) -> (55, 8.5) projected
  line L3 (0, 0) -> (0, 1.5) projected
  line L4 (55, 1.5) -> (59, 1.5)
extrude "Extrusion16" cut sketch "Sketch16" against normal blind 0.01
properties part number "Raspi" material "Steel, Mild"
